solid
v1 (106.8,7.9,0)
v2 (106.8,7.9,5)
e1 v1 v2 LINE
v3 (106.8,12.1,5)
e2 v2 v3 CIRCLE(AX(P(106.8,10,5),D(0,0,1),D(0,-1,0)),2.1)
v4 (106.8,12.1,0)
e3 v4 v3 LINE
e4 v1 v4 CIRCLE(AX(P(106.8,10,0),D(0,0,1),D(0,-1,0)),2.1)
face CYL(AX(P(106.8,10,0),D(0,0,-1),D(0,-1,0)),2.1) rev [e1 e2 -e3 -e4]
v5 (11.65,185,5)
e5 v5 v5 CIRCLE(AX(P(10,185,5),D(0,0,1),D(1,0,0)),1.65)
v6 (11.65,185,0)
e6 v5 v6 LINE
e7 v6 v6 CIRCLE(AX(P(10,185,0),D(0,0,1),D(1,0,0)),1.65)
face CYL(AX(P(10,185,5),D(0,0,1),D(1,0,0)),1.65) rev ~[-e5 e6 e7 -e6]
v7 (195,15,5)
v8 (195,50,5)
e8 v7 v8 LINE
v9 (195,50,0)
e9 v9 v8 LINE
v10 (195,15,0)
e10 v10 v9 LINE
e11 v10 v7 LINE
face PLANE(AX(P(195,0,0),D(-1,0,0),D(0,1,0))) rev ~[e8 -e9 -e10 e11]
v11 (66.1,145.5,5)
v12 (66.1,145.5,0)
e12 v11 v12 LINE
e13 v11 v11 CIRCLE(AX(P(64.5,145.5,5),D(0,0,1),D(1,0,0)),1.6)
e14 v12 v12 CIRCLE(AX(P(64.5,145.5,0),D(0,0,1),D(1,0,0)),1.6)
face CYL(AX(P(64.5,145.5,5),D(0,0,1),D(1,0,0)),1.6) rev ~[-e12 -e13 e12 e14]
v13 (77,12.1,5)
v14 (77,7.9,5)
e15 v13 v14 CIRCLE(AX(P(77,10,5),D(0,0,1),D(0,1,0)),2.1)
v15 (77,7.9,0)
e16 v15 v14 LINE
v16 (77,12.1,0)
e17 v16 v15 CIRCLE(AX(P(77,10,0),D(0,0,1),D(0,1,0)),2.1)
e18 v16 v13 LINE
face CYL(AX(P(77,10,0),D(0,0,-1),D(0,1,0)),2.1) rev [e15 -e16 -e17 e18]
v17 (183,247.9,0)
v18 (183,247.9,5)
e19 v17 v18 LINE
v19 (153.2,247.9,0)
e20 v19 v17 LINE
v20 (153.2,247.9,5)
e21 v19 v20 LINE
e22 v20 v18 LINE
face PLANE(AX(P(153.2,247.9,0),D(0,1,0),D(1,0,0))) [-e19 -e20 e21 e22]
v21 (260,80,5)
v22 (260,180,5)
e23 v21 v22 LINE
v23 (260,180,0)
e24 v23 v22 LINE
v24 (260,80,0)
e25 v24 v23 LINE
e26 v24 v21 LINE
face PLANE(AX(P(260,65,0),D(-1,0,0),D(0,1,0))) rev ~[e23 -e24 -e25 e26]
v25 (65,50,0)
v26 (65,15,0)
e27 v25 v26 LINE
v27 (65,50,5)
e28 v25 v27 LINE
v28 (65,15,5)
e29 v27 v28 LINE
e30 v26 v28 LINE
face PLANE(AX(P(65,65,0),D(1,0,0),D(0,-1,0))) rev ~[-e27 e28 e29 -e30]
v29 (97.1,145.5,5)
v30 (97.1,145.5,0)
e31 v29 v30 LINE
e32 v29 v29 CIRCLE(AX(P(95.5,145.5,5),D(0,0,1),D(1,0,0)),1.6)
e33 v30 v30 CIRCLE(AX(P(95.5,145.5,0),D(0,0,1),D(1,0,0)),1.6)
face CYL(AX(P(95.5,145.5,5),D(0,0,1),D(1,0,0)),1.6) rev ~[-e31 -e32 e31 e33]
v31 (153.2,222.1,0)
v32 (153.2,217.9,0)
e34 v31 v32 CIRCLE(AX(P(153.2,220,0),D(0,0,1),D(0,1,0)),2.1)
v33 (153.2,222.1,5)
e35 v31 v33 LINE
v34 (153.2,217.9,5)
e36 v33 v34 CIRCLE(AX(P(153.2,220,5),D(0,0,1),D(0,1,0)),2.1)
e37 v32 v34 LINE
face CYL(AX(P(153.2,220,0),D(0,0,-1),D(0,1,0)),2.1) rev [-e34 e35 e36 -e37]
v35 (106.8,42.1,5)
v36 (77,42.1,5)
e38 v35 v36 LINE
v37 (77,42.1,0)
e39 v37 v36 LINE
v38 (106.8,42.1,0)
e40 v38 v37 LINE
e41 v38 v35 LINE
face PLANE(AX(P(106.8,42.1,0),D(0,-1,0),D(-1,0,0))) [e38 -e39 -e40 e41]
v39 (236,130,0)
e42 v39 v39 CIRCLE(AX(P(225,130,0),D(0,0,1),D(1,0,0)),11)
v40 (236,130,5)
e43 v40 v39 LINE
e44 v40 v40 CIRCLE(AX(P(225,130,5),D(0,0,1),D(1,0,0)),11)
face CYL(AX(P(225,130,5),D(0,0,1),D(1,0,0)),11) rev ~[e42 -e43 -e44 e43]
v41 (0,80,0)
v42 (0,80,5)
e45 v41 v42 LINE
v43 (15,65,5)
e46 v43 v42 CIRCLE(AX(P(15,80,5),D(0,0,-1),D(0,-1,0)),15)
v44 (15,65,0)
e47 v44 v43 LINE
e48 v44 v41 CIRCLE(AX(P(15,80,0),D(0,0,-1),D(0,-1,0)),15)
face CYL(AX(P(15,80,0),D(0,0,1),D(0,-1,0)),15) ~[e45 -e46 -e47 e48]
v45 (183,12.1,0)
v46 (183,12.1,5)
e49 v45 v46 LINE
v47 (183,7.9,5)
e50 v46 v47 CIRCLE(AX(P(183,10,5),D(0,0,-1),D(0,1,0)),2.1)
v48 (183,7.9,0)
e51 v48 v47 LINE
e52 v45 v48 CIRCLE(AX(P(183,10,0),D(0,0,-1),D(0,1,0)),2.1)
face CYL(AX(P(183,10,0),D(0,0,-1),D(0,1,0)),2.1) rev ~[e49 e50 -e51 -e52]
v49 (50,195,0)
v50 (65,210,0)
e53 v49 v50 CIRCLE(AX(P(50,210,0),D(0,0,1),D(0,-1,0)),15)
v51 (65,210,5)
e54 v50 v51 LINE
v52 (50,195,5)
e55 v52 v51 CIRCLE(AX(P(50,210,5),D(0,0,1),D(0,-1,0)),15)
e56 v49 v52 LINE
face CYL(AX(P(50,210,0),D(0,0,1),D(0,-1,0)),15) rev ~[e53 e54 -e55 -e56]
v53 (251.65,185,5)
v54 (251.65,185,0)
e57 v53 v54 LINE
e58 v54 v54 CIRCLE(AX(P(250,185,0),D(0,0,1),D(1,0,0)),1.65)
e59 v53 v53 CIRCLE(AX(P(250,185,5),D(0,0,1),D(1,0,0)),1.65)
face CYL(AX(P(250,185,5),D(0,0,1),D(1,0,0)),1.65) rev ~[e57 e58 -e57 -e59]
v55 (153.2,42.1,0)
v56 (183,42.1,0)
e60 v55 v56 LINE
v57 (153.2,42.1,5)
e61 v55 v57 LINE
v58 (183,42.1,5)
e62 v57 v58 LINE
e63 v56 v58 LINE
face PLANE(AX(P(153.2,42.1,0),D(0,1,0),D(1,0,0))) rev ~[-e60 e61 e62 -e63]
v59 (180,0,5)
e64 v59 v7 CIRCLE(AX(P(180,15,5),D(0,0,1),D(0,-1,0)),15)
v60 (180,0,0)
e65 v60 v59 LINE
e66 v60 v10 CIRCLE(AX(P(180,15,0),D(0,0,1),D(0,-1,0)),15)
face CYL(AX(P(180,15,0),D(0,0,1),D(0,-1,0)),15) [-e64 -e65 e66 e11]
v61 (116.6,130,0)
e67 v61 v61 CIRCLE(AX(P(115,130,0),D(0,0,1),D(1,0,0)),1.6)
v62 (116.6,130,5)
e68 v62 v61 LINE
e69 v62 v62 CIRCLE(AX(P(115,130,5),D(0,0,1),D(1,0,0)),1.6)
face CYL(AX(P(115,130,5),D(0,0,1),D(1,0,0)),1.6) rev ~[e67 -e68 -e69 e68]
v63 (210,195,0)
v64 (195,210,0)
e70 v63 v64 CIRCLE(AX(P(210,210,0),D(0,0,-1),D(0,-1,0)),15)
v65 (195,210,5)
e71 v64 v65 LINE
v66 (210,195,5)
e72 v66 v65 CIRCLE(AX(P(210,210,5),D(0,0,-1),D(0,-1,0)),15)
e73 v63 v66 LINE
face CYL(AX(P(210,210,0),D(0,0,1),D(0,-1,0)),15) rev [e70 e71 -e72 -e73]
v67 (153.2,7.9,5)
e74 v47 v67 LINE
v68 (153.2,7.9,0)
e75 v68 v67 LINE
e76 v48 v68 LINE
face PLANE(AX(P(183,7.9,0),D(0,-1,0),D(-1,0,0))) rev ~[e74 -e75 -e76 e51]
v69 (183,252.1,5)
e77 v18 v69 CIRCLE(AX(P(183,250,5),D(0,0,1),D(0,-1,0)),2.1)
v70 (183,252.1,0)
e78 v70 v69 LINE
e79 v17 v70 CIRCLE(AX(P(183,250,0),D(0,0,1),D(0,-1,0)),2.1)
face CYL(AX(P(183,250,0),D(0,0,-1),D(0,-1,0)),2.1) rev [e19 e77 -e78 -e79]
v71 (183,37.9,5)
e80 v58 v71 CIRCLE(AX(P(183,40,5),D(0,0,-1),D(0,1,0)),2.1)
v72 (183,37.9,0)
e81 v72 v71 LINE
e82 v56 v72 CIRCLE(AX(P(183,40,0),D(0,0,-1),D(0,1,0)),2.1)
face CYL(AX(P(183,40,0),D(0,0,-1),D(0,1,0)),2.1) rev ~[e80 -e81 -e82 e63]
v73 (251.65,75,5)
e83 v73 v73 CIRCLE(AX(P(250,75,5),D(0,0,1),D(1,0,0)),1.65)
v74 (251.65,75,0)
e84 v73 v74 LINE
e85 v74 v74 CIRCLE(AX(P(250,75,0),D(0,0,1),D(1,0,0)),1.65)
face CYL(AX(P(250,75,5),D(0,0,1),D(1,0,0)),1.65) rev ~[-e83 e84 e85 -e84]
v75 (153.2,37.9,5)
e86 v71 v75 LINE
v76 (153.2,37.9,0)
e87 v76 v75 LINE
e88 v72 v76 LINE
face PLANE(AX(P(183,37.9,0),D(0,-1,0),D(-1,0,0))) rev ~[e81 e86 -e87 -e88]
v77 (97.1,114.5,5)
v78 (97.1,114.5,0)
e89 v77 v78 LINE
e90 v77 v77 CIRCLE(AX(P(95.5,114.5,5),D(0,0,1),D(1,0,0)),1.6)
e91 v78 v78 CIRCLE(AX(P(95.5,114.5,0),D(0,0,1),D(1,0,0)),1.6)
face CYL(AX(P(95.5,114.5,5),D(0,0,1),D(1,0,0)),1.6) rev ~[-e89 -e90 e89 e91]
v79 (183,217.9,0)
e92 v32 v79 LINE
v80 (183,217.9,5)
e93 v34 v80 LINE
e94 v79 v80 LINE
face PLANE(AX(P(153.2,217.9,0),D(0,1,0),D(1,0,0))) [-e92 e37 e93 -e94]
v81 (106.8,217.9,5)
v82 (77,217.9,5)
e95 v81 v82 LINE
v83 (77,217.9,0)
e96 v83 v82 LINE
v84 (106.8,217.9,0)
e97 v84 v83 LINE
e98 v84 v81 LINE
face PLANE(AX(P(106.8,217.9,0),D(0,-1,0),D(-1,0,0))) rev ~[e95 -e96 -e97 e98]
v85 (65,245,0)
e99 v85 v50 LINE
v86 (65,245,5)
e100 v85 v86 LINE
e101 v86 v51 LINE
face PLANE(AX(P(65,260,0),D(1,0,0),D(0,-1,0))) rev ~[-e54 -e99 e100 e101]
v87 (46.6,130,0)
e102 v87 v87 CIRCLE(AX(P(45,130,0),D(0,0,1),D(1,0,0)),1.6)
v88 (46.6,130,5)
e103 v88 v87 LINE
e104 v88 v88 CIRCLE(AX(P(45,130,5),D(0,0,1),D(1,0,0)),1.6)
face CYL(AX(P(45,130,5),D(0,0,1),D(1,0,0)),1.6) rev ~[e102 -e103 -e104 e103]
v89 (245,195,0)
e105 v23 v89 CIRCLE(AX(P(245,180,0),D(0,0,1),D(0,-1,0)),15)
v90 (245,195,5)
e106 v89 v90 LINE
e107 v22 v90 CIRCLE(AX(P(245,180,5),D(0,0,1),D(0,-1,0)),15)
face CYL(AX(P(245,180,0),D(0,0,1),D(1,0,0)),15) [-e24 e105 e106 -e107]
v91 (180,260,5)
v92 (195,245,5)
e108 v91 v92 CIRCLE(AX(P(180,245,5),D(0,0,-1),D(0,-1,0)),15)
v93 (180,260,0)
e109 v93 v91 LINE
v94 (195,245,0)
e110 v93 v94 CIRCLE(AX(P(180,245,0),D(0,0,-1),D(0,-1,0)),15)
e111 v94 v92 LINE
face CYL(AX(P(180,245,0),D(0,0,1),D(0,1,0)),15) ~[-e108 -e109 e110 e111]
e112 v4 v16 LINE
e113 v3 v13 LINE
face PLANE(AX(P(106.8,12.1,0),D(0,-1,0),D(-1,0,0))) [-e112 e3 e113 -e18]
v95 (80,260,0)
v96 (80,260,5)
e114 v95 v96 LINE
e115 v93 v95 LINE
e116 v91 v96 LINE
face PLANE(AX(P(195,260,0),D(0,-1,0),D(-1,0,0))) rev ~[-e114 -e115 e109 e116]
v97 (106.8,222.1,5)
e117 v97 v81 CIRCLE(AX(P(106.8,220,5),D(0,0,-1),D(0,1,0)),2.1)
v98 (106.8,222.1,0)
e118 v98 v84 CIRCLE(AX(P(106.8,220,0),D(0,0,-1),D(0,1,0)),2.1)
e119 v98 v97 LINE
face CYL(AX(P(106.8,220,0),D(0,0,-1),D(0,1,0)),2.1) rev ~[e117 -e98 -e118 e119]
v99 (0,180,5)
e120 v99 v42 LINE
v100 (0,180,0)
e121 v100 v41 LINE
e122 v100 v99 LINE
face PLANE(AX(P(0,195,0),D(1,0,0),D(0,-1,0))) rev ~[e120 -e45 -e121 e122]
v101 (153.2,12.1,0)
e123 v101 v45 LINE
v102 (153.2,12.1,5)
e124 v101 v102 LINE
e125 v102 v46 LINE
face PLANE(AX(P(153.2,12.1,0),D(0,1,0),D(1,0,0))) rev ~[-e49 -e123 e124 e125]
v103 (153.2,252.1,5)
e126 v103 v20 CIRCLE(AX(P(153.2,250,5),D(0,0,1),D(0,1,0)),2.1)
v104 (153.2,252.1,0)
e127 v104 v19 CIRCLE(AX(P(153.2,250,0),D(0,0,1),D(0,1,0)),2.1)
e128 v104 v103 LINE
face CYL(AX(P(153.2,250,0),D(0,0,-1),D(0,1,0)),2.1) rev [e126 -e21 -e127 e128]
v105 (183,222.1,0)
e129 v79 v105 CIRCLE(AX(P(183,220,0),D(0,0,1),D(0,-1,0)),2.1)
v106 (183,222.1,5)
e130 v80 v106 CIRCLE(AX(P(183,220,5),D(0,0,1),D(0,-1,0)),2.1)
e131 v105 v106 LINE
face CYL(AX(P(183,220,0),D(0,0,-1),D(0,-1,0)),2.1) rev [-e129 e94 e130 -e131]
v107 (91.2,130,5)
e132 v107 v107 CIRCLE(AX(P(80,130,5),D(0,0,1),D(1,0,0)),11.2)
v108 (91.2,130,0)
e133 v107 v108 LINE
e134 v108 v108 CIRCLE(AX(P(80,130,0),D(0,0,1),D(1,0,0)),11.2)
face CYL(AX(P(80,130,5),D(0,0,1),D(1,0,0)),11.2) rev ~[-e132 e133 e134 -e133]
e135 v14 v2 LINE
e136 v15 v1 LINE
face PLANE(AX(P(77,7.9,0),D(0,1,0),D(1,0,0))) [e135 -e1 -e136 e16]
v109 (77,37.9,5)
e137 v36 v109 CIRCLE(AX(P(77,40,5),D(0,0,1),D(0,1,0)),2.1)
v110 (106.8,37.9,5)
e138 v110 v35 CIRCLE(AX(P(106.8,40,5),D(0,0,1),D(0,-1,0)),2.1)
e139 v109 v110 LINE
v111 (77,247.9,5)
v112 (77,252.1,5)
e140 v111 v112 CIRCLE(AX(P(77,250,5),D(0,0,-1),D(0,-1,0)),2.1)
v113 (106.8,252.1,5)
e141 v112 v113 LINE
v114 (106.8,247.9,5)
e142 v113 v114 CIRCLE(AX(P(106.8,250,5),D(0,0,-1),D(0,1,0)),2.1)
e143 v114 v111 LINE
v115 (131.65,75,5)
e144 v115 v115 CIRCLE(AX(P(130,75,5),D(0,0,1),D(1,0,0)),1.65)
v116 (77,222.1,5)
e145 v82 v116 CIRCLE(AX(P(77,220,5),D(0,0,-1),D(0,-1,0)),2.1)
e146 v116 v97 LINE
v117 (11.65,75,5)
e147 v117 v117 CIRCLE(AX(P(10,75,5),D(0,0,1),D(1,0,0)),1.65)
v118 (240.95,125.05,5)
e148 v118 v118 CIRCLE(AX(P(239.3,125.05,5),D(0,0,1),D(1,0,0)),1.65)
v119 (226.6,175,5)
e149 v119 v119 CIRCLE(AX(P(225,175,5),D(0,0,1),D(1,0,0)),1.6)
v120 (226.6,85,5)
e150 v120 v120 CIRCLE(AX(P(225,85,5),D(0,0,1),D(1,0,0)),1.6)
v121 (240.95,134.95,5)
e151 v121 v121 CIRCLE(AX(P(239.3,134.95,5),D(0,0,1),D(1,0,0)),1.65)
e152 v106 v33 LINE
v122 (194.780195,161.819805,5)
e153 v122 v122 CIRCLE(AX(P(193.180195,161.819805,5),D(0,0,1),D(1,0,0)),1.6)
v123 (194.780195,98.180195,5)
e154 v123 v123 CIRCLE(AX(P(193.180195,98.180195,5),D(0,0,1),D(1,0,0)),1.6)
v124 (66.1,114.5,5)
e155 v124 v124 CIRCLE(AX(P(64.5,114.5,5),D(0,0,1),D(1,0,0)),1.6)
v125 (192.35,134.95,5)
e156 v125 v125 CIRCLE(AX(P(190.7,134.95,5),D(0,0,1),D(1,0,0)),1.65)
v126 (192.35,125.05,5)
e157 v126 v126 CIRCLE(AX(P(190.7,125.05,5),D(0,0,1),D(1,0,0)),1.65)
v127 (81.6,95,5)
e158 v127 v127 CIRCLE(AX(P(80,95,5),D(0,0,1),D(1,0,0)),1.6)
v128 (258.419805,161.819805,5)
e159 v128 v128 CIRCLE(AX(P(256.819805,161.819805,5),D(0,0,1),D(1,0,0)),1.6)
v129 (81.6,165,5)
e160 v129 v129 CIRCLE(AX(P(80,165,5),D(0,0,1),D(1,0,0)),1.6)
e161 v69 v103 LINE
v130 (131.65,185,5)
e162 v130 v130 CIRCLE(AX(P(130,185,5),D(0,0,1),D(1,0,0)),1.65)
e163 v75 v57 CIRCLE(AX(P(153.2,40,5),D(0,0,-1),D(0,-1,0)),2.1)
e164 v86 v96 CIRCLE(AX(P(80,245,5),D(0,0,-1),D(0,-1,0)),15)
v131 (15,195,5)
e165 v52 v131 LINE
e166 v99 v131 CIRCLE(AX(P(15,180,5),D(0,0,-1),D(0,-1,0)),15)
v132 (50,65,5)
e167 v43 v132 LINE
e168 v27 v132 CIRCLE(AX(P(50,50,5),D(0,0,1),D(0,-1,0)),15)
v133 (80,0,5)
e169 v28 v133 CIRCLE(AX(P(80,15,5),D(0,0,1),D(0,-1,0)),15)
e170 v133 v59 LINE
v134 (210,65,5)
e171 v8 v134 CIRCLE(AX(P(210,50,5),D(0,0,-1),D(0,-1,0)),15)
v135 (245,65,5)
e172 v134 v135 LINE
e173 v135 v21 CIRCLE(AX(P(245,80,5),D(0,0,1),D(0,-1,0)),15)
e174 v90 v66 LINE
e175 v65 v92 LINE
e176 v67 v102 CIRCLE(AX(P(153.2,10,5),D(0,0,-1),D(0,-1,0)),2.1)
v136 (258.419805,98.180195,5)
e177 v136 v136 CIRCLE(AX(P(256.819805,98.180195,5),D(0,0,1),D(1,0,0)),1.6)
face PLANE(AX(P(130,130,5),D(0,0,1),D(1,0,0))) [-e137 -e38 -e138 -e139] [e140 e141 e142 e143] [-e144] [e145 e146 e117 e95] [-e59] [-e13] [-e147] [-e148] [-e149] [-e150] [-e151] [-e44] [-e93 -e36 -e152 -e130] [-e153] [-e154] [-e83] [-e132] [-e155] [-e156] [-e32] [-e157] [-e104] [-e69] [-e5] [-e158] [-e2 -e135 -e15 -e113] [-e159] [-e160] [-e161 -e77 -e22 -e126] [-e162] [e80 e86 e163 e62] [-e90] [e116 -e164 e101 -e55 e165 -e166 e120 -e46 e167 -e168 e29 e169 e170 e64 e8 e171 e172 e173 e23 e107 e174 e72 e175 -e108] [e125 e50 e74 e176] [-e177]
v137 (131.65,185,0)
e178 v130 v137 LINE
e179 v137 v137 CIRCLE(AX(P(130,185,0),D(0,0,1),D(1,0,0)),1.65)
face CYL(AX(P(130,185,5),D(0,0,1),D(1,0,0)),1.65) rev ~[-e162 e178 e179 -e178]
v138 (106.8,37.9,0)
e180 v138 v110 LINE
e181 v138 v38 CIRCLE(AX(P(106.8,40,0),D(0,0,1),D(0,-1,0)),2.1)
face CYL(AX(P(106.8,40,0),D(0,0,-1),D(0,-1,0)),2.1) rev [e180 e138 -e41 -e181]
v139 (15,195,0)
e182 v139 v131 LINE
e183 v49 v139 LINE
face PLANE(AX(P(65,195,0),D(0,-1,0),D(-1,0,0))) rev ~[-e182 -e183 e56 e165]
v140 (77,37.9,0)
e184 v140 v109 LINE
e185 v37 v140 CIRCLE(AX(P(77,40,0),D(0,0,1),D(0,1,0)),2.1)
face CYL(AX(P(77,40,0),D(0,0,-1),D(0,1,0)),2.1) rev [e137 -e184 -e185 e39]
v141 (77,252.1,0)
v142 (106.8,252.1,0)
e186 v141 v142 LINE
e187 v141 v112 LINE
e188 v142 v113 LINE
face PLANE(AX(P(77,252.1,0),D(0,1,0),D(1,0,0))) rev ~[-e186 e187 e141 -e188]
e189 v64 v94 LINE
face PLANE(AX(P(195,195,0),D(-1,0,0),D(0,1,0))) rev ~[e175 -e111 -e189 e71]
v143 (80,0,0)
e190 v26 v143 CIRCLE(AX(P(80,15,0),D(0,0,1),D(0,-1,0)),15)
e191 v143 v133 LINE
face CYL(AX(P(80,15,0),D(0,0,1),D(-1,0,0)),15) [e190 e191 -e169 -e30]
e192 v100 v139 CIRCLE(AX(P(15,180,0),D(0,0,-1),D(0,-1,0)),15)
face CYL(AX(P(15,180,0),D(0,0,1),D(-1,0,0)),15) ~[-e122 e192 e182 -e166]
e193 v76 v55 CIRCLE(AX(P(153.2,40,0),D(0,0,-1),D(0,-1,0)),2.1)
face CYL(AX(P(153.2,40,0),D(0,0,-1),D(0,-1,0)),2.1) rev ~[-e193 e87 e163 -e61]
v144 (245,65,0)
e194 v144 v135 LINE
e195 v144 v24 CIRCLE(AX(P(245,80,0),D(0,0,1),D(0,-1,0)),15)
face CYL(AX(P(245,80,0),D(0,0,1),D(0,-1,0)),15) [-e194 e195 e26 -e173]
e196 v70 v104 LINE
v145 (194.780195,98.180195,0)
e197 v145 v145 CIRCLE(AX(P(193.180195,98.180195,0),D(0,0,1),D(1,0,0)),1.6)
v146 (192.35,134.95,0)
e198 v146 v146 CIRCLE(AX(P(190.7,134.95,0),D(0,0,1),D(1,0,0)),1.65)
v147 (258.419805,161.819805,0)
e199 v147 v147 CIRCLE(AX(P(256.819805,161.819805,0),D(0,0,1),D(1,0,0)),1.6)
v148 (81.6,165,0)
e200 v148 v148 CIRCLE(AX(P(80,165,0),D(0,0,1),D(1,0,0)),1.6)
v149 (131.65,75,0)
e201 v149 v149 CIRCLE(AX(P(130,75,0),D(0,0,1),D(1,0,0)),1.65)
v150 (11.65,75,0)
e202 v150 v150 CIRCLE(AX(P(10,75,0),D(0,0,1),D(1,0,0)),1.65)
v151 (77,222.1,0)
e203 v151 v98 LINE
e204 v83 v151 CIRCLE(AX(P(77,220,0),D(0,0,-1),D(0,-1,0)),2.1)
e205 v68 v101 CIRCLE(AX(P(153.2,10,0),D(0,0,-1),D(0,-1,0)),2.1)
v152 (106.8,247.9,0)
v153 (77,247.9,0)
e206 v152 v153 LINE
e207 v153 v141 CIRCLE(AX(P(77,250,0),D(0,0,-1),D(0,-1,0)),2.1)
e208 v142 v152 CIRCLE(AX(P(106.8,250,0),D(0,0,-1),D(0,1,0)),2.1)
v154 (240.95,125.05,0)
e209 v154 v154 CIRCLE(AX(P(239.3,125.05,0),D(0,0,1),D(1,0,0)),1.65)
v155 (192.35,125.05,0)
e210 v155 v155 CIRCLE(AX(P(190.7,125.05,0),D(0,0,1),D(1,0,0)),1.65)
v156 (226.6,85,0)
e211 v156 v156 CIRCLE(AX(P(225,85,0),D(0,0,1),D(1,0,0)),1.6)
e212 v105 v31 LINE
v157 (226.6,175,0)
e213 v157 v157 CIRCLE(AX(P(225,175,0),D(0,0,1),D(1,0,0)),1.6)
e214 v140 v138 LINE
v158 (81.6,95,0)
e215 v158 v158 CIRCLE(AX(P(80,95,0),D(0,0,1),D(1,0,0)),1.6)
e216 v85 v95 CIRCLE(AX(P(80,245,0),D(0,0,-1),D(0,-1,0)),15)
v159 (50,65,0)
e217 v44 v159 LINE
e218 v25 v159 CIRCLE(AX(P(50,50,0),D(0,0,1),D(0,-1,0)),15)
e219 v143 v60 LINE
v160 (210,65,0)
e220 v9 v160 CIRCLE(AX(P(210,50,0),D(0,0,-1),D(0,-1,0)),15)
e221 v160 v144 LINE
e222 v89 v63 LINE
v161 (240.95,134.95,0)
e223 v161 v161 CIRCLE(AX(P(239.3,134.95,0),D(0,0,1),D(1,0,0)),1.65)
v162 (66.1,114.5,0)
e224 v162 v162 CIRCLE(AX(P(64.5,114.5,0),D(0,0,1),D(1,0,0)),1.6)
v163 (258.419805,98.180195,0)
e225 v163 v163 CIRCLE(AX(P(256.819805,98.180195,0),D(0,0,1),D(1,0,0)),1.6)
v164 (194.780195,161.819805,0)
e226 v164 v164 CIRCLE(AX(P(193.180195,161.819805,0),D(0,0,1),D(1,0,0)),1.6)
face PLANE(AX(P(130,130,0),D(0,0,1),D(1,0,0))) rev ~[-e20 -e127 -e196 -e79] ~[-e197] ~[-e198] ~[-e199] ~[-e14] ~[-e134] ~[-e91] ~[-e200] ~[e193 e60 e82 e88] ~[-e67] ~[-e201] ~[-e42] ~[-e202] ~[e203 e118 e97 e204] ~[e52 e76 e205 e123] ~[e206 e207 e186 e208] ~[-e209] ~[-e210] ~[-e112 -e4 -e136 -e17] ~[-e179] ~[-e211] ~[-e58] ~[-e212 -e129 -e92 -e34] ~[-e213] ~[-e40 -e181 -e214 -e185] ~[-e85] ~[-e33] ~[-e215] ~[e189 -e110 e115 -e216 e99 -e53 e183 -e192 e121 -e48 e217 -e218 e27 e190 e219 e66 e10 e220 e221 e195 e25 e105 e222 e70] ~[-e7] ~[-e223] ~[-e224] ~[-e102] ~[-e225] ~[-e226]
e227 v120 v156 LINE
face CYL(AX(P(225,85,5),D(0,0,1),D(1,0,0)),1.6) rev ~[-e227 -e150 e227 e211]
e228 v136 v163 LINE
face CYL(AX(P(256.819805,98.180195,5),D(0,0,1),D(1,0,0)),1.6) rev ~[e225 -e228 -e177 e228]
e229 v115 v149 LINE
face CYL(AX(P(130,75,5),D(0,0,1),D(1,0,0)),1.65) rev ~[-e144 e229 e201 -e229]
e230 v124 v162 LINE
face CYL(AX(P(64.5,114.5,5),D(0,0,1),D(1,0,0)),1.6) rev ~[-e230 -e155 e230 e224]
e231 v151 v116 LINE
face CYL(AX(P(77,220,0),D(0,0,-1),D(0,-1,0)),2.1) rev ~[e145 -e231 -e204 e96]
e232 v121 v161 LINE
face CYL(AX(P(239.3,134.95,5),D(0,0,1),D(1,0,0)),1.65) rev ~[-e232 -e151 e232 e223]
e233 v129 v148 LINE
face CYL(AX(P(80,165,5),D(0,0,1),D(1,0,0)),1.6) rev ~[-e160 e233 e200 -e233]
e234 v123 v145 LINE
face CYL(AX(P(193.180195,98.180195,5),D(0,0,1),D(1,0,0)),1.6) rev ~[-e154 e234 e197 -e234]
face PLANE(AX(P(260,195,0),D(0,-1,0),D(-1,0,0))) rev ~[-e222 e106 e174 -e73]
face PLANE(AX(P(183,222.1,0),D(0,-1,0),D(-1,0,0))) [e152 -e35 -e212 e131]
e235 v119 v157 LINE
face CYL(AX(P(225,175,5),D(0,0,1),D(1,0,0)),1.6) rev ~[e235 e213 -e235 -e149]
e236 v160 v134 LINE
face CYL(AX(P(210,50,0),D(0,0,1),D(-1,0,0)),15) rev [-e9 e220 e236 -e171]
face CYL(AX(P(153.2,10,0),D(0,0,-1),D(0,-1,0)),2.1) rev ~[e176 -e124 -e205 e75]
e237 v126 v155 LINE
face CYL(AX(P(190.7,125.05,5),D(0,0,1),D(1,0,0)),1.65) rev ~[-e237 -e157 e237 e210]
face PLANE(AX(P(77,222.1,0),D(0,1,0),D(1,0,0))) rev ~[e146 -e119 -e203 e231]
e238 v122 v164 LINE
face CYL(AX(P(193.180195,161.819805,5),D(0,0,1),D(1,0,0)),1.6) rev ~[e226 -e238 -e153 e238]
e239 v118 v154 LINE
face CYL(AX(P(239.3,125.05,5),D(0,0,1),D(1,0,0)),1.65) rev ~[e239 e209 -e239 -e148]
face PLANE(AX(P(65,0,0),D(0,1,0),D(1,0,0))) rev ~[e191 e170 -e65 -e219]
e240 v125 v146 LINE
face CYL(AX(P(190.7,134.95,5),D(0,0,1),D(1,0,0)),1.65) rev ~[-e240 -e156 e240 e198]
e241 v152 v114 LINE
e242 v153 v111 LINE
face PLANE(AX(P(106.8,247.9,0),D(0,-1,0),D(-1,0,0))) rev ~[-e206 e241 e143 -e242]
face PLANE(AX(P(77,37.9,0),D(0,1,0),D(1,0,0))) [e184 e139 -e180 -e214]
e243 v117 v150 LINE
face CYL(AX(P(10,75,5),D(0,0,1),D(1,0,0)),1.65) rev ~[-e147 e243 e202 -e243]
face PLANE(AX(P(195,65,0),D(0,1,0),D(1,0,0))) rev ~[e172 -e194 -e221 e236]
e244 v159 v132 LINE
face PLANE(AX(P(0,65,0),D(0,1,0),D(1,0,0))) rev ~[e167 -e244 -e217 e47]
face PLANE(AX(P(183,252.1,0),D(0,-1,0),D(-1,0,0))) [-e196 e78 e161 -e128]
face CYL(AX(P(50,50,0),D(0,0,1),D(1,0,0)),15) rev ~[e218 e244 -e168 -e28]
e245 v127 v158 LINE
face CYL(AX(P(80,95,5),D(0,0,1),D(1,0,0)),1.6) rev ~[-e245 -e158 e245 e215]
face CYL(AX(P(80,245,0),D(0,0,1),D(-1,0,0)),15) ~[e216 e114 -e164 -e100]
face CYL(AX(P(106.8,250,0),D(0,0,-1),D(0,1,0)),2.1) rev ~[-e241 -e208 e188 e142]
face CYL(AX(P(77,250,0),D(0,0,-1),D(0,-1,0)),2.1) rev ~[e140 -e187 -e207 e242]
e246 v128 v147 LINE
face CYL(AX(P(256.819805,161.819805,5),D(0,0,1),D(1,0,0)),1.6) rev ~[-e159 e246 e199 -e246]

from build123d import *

# Parameters (mm, degrees)
EXTRUDE_1_DEPTH     = 5
CUT_EXTRUDE_1_DEPTH = 5
SKETCH_3_R          = 1.65
CUT_EXTRUDE_2_DEPTH = 10
SKETCH_4_R          = 11.2
SKETCH_4_R_2        = 11
SKETCH_4_R_3        = 1.65
SKETCH_4_R_4        = 1.6
CUT_EXTRUDE_3_DEPTH = 10
FILLET_1_R          = 15


with BuildPart() as part:
    # 草图1 → 凸台-拉伸1 (new body)
    with BuildSketch(Plane.XY):
        Polygon((65, 65), (65, 0), (195, 0), (195, 65), (260, 65), (260, 195), (195, 195), (195, 260), (65, 260), (65, 195), (0, 195), (0, 65), align=None)
    extrude(amount=EXTRUDE_1_DEPTH)

    # 草图2 → 切除-拉伸1 (cut)
    with BuildSketch(Plane(origin=(0, 0, 0), x_dir=(-1, 0, 0), z_dir=(0, 0, -1))):
        with BuildLine():
            Line((-106.8, 12.1), (-77, 12.1))
            ThreePointArc((-77, 12.1), (-74.9, 10), (-77, 7.9))
            Line((-77, 7.9), (-106.8, 7.9))
            ThreePointArc((-106.8, 7.9), (-108.9, 10), (-106.8, 12.1))
        make_face()
        with BuildLine():
            Line((-106.8, 42.1), (-77, 42.1))
            ThreePointArc((-77, 42.1), (-74.9, 40), (-77, 37.9))
            Line((-77, 37.9), (-106.8, 37.9))
            ThreePointArc((-106.8, 37.9), (-108.9, 40), (-106.8, 42.1))
        make_face()
        with BuildLine():
            Line((-153.2, 12.1), (-183, 12.1))
            ThreePointArc((-183, 12.1), (-185.1, 10), (-183, 7.9))
            Line((-183, 7.9), (-153.2, 7.9))
            ThreePointArc((-153.2, 7.9), (-151.1, 10), (-153.2, 12.1))
        make_face()
        with BuildLine():
            Line((-153.2, 42.1), (-183, 42.1))
            ThreePointArc((-183, 42.1), (-185.1, 40), (-183, 37.9))
            Line((-183, 37.9), (-153.2, 37.9))
            ThreePointArc((-153.2, 37.9), (-151.1, 40), (-153.2, 42.1))
        make_face()
        with BuildLine():
            Line((-106.8, 247.9), (-77, 247.9))
            ThreePointArc((-77, 247.9), (-74.9, 250), (-77, 252.1))
            Line((-77, 252.1), (-106.8, 252.1))
            ThreePointArc((-106.8, 252.1), (-108.9, 250), (-106.8, 247.9))
        make_face()
        with BuildLine():
            Line((-106.8, 217.9), (-77, 217.9))
            ThreePointArc((-77, 217.9), (-74.9, 220), (-77, 222.1))
            Line((-77, 222.1), (-106.8, 222.1))
            ThreePointArc((-106.8, 222.1), (-108.9, 220), (-106.8, 217.9))
        make_face()
        with BuildLine():
            Line((-153.2, 247.9), (-183, 247.9))
            ThreePointArc((-183, 247.9), (-185.1, 250), (-183, 252.1))
            Line((-183, 252.1), (-153.2, 252.1))
            ThreePointArc((-153.2, 252.1), (-151.1, 250), (-153.2, 247.9))
        make_face()
        with BuildLine():
            Line((-153.2, 217.9), (-183, 217.9))
            ThreePointArc((-183, 217.9), (-185.1, 220), (-183, 222.1))
            Line((-183, 222.1), (-153.2, 222.1))
            ThreePointArc((-153.2, 222.1), (-151.1, 220), (-153.2, 217.9))
        make_face()
    extrude(amount=-CUT_EXTRUDE_1_DEPTH, mode=Mode.SUBTRACT)

    # 草图3 → 切除-拉伸2 (cut)
    with BuildSketch(Plane.XY.offset(5)):
        with Locations((250, 185)):
            Circle(SKETCH_3_R)
        with Locations((250, 75)):
            Circle(SKETCH_3_R)
        with Locations((10, 75)):
            Circle(SKETCH_3_R)
        with Locations((10, 185)):
            Circle(SKETCH_3_R)
        with Locations((130, 75)):
            Circle(SKETCH_3_R)
        with Locations((130, 185)):
            Circle(SKETCH_3_R)
    extrude(amount=-CUT_EXTRUDE_2_DEPTH, mode=Mode.SUBTRACT)

    # 草图4 → 切除-拉伸3 (cut)
    with BuildSketch(Plane.XY.offset(5)):
        with Locations((80, 130)):
            Circle(SKETCH_4_R)
        with Locations((225, 130)):
            Circle(SKETCH_4_R_2)
        with Locations((190.7, 134.95)):
            Circle(SKETCH_4_R_3)
        with Locations((190.7, 125.05)):
            Circle(SKETCH_4_R_3)
        with Locations((239.3, 134.95)):
            Circle(SKETCH_4_R_3)
        with Locations((239.3, 125.05)):
            Circle(SKETCH_4_R_3)
        with Locations((64.5, 145.5)):
            Circle(SKETCH_4_R_4)
        with Locations((95.5, 145.5)):
            Circle(SKETCH_4_R_4)
        with Locations((95.5, 114.5)):
            Circle(SKETCH_4_R_4)
        with Locations((64.5, 114.5)):
            Circle(SKETCH_4_R_4)
        with Locations((193.180194847, 161.819805153)):
            Circle(SKETCH_4_R_4)
        with Locations((193.180194847, 98.180194847)):
            Circle(SKETCH_4_R_4)
        with Locations((115, 130)):
            Circle(SKETCH_4_R_4)
        with Locations((80, 95)):
            Circle(SKETCH_4_R_4)
        with Locations((45, 130)):
            Circle(SKETCH_4_R_4)
        with Locations((80, 165)):
            Circle(SKETCH_4_R_4)
        with Locations((225, 175)):
            Circle(SKETCH_4_R_4)
        with Locations((225, 85)):
            Circle(SKETCH_4_R_4)
        with Locations((256.819805153, 98.180194847)):
            Circle(SKETCH_4_R_4)
        with Locations((256.819805153, 161.819805153)):
            Circle(SKETCH_4_R_4)
    extrude(amount=-CUT_EXTRUDE_3_DEPTH, mode=Mode.SUBTRACT)

    # 圆角1
    fillet_1_edges = [part.edges().sort_by_distance(p)[0] for p in [
        (65, 0, 2.5),
        (65, 65, 2.5),
        (0, 65, 2.5),
        (0, 195, 2.5),
        (65, 195, 2.5),
        (65, 260, 2.5),
        (195, 260, 2.5),
        (195, 195, 2.5),
        (260, 195, 2.5),
        (260, 65, 2.5),
        (195, 65, 2.5),
        (195, 0, 2.5),
    ]]
    fillet(fillet_1_edges, radius=FILLET_1_R)


solid = part.part
